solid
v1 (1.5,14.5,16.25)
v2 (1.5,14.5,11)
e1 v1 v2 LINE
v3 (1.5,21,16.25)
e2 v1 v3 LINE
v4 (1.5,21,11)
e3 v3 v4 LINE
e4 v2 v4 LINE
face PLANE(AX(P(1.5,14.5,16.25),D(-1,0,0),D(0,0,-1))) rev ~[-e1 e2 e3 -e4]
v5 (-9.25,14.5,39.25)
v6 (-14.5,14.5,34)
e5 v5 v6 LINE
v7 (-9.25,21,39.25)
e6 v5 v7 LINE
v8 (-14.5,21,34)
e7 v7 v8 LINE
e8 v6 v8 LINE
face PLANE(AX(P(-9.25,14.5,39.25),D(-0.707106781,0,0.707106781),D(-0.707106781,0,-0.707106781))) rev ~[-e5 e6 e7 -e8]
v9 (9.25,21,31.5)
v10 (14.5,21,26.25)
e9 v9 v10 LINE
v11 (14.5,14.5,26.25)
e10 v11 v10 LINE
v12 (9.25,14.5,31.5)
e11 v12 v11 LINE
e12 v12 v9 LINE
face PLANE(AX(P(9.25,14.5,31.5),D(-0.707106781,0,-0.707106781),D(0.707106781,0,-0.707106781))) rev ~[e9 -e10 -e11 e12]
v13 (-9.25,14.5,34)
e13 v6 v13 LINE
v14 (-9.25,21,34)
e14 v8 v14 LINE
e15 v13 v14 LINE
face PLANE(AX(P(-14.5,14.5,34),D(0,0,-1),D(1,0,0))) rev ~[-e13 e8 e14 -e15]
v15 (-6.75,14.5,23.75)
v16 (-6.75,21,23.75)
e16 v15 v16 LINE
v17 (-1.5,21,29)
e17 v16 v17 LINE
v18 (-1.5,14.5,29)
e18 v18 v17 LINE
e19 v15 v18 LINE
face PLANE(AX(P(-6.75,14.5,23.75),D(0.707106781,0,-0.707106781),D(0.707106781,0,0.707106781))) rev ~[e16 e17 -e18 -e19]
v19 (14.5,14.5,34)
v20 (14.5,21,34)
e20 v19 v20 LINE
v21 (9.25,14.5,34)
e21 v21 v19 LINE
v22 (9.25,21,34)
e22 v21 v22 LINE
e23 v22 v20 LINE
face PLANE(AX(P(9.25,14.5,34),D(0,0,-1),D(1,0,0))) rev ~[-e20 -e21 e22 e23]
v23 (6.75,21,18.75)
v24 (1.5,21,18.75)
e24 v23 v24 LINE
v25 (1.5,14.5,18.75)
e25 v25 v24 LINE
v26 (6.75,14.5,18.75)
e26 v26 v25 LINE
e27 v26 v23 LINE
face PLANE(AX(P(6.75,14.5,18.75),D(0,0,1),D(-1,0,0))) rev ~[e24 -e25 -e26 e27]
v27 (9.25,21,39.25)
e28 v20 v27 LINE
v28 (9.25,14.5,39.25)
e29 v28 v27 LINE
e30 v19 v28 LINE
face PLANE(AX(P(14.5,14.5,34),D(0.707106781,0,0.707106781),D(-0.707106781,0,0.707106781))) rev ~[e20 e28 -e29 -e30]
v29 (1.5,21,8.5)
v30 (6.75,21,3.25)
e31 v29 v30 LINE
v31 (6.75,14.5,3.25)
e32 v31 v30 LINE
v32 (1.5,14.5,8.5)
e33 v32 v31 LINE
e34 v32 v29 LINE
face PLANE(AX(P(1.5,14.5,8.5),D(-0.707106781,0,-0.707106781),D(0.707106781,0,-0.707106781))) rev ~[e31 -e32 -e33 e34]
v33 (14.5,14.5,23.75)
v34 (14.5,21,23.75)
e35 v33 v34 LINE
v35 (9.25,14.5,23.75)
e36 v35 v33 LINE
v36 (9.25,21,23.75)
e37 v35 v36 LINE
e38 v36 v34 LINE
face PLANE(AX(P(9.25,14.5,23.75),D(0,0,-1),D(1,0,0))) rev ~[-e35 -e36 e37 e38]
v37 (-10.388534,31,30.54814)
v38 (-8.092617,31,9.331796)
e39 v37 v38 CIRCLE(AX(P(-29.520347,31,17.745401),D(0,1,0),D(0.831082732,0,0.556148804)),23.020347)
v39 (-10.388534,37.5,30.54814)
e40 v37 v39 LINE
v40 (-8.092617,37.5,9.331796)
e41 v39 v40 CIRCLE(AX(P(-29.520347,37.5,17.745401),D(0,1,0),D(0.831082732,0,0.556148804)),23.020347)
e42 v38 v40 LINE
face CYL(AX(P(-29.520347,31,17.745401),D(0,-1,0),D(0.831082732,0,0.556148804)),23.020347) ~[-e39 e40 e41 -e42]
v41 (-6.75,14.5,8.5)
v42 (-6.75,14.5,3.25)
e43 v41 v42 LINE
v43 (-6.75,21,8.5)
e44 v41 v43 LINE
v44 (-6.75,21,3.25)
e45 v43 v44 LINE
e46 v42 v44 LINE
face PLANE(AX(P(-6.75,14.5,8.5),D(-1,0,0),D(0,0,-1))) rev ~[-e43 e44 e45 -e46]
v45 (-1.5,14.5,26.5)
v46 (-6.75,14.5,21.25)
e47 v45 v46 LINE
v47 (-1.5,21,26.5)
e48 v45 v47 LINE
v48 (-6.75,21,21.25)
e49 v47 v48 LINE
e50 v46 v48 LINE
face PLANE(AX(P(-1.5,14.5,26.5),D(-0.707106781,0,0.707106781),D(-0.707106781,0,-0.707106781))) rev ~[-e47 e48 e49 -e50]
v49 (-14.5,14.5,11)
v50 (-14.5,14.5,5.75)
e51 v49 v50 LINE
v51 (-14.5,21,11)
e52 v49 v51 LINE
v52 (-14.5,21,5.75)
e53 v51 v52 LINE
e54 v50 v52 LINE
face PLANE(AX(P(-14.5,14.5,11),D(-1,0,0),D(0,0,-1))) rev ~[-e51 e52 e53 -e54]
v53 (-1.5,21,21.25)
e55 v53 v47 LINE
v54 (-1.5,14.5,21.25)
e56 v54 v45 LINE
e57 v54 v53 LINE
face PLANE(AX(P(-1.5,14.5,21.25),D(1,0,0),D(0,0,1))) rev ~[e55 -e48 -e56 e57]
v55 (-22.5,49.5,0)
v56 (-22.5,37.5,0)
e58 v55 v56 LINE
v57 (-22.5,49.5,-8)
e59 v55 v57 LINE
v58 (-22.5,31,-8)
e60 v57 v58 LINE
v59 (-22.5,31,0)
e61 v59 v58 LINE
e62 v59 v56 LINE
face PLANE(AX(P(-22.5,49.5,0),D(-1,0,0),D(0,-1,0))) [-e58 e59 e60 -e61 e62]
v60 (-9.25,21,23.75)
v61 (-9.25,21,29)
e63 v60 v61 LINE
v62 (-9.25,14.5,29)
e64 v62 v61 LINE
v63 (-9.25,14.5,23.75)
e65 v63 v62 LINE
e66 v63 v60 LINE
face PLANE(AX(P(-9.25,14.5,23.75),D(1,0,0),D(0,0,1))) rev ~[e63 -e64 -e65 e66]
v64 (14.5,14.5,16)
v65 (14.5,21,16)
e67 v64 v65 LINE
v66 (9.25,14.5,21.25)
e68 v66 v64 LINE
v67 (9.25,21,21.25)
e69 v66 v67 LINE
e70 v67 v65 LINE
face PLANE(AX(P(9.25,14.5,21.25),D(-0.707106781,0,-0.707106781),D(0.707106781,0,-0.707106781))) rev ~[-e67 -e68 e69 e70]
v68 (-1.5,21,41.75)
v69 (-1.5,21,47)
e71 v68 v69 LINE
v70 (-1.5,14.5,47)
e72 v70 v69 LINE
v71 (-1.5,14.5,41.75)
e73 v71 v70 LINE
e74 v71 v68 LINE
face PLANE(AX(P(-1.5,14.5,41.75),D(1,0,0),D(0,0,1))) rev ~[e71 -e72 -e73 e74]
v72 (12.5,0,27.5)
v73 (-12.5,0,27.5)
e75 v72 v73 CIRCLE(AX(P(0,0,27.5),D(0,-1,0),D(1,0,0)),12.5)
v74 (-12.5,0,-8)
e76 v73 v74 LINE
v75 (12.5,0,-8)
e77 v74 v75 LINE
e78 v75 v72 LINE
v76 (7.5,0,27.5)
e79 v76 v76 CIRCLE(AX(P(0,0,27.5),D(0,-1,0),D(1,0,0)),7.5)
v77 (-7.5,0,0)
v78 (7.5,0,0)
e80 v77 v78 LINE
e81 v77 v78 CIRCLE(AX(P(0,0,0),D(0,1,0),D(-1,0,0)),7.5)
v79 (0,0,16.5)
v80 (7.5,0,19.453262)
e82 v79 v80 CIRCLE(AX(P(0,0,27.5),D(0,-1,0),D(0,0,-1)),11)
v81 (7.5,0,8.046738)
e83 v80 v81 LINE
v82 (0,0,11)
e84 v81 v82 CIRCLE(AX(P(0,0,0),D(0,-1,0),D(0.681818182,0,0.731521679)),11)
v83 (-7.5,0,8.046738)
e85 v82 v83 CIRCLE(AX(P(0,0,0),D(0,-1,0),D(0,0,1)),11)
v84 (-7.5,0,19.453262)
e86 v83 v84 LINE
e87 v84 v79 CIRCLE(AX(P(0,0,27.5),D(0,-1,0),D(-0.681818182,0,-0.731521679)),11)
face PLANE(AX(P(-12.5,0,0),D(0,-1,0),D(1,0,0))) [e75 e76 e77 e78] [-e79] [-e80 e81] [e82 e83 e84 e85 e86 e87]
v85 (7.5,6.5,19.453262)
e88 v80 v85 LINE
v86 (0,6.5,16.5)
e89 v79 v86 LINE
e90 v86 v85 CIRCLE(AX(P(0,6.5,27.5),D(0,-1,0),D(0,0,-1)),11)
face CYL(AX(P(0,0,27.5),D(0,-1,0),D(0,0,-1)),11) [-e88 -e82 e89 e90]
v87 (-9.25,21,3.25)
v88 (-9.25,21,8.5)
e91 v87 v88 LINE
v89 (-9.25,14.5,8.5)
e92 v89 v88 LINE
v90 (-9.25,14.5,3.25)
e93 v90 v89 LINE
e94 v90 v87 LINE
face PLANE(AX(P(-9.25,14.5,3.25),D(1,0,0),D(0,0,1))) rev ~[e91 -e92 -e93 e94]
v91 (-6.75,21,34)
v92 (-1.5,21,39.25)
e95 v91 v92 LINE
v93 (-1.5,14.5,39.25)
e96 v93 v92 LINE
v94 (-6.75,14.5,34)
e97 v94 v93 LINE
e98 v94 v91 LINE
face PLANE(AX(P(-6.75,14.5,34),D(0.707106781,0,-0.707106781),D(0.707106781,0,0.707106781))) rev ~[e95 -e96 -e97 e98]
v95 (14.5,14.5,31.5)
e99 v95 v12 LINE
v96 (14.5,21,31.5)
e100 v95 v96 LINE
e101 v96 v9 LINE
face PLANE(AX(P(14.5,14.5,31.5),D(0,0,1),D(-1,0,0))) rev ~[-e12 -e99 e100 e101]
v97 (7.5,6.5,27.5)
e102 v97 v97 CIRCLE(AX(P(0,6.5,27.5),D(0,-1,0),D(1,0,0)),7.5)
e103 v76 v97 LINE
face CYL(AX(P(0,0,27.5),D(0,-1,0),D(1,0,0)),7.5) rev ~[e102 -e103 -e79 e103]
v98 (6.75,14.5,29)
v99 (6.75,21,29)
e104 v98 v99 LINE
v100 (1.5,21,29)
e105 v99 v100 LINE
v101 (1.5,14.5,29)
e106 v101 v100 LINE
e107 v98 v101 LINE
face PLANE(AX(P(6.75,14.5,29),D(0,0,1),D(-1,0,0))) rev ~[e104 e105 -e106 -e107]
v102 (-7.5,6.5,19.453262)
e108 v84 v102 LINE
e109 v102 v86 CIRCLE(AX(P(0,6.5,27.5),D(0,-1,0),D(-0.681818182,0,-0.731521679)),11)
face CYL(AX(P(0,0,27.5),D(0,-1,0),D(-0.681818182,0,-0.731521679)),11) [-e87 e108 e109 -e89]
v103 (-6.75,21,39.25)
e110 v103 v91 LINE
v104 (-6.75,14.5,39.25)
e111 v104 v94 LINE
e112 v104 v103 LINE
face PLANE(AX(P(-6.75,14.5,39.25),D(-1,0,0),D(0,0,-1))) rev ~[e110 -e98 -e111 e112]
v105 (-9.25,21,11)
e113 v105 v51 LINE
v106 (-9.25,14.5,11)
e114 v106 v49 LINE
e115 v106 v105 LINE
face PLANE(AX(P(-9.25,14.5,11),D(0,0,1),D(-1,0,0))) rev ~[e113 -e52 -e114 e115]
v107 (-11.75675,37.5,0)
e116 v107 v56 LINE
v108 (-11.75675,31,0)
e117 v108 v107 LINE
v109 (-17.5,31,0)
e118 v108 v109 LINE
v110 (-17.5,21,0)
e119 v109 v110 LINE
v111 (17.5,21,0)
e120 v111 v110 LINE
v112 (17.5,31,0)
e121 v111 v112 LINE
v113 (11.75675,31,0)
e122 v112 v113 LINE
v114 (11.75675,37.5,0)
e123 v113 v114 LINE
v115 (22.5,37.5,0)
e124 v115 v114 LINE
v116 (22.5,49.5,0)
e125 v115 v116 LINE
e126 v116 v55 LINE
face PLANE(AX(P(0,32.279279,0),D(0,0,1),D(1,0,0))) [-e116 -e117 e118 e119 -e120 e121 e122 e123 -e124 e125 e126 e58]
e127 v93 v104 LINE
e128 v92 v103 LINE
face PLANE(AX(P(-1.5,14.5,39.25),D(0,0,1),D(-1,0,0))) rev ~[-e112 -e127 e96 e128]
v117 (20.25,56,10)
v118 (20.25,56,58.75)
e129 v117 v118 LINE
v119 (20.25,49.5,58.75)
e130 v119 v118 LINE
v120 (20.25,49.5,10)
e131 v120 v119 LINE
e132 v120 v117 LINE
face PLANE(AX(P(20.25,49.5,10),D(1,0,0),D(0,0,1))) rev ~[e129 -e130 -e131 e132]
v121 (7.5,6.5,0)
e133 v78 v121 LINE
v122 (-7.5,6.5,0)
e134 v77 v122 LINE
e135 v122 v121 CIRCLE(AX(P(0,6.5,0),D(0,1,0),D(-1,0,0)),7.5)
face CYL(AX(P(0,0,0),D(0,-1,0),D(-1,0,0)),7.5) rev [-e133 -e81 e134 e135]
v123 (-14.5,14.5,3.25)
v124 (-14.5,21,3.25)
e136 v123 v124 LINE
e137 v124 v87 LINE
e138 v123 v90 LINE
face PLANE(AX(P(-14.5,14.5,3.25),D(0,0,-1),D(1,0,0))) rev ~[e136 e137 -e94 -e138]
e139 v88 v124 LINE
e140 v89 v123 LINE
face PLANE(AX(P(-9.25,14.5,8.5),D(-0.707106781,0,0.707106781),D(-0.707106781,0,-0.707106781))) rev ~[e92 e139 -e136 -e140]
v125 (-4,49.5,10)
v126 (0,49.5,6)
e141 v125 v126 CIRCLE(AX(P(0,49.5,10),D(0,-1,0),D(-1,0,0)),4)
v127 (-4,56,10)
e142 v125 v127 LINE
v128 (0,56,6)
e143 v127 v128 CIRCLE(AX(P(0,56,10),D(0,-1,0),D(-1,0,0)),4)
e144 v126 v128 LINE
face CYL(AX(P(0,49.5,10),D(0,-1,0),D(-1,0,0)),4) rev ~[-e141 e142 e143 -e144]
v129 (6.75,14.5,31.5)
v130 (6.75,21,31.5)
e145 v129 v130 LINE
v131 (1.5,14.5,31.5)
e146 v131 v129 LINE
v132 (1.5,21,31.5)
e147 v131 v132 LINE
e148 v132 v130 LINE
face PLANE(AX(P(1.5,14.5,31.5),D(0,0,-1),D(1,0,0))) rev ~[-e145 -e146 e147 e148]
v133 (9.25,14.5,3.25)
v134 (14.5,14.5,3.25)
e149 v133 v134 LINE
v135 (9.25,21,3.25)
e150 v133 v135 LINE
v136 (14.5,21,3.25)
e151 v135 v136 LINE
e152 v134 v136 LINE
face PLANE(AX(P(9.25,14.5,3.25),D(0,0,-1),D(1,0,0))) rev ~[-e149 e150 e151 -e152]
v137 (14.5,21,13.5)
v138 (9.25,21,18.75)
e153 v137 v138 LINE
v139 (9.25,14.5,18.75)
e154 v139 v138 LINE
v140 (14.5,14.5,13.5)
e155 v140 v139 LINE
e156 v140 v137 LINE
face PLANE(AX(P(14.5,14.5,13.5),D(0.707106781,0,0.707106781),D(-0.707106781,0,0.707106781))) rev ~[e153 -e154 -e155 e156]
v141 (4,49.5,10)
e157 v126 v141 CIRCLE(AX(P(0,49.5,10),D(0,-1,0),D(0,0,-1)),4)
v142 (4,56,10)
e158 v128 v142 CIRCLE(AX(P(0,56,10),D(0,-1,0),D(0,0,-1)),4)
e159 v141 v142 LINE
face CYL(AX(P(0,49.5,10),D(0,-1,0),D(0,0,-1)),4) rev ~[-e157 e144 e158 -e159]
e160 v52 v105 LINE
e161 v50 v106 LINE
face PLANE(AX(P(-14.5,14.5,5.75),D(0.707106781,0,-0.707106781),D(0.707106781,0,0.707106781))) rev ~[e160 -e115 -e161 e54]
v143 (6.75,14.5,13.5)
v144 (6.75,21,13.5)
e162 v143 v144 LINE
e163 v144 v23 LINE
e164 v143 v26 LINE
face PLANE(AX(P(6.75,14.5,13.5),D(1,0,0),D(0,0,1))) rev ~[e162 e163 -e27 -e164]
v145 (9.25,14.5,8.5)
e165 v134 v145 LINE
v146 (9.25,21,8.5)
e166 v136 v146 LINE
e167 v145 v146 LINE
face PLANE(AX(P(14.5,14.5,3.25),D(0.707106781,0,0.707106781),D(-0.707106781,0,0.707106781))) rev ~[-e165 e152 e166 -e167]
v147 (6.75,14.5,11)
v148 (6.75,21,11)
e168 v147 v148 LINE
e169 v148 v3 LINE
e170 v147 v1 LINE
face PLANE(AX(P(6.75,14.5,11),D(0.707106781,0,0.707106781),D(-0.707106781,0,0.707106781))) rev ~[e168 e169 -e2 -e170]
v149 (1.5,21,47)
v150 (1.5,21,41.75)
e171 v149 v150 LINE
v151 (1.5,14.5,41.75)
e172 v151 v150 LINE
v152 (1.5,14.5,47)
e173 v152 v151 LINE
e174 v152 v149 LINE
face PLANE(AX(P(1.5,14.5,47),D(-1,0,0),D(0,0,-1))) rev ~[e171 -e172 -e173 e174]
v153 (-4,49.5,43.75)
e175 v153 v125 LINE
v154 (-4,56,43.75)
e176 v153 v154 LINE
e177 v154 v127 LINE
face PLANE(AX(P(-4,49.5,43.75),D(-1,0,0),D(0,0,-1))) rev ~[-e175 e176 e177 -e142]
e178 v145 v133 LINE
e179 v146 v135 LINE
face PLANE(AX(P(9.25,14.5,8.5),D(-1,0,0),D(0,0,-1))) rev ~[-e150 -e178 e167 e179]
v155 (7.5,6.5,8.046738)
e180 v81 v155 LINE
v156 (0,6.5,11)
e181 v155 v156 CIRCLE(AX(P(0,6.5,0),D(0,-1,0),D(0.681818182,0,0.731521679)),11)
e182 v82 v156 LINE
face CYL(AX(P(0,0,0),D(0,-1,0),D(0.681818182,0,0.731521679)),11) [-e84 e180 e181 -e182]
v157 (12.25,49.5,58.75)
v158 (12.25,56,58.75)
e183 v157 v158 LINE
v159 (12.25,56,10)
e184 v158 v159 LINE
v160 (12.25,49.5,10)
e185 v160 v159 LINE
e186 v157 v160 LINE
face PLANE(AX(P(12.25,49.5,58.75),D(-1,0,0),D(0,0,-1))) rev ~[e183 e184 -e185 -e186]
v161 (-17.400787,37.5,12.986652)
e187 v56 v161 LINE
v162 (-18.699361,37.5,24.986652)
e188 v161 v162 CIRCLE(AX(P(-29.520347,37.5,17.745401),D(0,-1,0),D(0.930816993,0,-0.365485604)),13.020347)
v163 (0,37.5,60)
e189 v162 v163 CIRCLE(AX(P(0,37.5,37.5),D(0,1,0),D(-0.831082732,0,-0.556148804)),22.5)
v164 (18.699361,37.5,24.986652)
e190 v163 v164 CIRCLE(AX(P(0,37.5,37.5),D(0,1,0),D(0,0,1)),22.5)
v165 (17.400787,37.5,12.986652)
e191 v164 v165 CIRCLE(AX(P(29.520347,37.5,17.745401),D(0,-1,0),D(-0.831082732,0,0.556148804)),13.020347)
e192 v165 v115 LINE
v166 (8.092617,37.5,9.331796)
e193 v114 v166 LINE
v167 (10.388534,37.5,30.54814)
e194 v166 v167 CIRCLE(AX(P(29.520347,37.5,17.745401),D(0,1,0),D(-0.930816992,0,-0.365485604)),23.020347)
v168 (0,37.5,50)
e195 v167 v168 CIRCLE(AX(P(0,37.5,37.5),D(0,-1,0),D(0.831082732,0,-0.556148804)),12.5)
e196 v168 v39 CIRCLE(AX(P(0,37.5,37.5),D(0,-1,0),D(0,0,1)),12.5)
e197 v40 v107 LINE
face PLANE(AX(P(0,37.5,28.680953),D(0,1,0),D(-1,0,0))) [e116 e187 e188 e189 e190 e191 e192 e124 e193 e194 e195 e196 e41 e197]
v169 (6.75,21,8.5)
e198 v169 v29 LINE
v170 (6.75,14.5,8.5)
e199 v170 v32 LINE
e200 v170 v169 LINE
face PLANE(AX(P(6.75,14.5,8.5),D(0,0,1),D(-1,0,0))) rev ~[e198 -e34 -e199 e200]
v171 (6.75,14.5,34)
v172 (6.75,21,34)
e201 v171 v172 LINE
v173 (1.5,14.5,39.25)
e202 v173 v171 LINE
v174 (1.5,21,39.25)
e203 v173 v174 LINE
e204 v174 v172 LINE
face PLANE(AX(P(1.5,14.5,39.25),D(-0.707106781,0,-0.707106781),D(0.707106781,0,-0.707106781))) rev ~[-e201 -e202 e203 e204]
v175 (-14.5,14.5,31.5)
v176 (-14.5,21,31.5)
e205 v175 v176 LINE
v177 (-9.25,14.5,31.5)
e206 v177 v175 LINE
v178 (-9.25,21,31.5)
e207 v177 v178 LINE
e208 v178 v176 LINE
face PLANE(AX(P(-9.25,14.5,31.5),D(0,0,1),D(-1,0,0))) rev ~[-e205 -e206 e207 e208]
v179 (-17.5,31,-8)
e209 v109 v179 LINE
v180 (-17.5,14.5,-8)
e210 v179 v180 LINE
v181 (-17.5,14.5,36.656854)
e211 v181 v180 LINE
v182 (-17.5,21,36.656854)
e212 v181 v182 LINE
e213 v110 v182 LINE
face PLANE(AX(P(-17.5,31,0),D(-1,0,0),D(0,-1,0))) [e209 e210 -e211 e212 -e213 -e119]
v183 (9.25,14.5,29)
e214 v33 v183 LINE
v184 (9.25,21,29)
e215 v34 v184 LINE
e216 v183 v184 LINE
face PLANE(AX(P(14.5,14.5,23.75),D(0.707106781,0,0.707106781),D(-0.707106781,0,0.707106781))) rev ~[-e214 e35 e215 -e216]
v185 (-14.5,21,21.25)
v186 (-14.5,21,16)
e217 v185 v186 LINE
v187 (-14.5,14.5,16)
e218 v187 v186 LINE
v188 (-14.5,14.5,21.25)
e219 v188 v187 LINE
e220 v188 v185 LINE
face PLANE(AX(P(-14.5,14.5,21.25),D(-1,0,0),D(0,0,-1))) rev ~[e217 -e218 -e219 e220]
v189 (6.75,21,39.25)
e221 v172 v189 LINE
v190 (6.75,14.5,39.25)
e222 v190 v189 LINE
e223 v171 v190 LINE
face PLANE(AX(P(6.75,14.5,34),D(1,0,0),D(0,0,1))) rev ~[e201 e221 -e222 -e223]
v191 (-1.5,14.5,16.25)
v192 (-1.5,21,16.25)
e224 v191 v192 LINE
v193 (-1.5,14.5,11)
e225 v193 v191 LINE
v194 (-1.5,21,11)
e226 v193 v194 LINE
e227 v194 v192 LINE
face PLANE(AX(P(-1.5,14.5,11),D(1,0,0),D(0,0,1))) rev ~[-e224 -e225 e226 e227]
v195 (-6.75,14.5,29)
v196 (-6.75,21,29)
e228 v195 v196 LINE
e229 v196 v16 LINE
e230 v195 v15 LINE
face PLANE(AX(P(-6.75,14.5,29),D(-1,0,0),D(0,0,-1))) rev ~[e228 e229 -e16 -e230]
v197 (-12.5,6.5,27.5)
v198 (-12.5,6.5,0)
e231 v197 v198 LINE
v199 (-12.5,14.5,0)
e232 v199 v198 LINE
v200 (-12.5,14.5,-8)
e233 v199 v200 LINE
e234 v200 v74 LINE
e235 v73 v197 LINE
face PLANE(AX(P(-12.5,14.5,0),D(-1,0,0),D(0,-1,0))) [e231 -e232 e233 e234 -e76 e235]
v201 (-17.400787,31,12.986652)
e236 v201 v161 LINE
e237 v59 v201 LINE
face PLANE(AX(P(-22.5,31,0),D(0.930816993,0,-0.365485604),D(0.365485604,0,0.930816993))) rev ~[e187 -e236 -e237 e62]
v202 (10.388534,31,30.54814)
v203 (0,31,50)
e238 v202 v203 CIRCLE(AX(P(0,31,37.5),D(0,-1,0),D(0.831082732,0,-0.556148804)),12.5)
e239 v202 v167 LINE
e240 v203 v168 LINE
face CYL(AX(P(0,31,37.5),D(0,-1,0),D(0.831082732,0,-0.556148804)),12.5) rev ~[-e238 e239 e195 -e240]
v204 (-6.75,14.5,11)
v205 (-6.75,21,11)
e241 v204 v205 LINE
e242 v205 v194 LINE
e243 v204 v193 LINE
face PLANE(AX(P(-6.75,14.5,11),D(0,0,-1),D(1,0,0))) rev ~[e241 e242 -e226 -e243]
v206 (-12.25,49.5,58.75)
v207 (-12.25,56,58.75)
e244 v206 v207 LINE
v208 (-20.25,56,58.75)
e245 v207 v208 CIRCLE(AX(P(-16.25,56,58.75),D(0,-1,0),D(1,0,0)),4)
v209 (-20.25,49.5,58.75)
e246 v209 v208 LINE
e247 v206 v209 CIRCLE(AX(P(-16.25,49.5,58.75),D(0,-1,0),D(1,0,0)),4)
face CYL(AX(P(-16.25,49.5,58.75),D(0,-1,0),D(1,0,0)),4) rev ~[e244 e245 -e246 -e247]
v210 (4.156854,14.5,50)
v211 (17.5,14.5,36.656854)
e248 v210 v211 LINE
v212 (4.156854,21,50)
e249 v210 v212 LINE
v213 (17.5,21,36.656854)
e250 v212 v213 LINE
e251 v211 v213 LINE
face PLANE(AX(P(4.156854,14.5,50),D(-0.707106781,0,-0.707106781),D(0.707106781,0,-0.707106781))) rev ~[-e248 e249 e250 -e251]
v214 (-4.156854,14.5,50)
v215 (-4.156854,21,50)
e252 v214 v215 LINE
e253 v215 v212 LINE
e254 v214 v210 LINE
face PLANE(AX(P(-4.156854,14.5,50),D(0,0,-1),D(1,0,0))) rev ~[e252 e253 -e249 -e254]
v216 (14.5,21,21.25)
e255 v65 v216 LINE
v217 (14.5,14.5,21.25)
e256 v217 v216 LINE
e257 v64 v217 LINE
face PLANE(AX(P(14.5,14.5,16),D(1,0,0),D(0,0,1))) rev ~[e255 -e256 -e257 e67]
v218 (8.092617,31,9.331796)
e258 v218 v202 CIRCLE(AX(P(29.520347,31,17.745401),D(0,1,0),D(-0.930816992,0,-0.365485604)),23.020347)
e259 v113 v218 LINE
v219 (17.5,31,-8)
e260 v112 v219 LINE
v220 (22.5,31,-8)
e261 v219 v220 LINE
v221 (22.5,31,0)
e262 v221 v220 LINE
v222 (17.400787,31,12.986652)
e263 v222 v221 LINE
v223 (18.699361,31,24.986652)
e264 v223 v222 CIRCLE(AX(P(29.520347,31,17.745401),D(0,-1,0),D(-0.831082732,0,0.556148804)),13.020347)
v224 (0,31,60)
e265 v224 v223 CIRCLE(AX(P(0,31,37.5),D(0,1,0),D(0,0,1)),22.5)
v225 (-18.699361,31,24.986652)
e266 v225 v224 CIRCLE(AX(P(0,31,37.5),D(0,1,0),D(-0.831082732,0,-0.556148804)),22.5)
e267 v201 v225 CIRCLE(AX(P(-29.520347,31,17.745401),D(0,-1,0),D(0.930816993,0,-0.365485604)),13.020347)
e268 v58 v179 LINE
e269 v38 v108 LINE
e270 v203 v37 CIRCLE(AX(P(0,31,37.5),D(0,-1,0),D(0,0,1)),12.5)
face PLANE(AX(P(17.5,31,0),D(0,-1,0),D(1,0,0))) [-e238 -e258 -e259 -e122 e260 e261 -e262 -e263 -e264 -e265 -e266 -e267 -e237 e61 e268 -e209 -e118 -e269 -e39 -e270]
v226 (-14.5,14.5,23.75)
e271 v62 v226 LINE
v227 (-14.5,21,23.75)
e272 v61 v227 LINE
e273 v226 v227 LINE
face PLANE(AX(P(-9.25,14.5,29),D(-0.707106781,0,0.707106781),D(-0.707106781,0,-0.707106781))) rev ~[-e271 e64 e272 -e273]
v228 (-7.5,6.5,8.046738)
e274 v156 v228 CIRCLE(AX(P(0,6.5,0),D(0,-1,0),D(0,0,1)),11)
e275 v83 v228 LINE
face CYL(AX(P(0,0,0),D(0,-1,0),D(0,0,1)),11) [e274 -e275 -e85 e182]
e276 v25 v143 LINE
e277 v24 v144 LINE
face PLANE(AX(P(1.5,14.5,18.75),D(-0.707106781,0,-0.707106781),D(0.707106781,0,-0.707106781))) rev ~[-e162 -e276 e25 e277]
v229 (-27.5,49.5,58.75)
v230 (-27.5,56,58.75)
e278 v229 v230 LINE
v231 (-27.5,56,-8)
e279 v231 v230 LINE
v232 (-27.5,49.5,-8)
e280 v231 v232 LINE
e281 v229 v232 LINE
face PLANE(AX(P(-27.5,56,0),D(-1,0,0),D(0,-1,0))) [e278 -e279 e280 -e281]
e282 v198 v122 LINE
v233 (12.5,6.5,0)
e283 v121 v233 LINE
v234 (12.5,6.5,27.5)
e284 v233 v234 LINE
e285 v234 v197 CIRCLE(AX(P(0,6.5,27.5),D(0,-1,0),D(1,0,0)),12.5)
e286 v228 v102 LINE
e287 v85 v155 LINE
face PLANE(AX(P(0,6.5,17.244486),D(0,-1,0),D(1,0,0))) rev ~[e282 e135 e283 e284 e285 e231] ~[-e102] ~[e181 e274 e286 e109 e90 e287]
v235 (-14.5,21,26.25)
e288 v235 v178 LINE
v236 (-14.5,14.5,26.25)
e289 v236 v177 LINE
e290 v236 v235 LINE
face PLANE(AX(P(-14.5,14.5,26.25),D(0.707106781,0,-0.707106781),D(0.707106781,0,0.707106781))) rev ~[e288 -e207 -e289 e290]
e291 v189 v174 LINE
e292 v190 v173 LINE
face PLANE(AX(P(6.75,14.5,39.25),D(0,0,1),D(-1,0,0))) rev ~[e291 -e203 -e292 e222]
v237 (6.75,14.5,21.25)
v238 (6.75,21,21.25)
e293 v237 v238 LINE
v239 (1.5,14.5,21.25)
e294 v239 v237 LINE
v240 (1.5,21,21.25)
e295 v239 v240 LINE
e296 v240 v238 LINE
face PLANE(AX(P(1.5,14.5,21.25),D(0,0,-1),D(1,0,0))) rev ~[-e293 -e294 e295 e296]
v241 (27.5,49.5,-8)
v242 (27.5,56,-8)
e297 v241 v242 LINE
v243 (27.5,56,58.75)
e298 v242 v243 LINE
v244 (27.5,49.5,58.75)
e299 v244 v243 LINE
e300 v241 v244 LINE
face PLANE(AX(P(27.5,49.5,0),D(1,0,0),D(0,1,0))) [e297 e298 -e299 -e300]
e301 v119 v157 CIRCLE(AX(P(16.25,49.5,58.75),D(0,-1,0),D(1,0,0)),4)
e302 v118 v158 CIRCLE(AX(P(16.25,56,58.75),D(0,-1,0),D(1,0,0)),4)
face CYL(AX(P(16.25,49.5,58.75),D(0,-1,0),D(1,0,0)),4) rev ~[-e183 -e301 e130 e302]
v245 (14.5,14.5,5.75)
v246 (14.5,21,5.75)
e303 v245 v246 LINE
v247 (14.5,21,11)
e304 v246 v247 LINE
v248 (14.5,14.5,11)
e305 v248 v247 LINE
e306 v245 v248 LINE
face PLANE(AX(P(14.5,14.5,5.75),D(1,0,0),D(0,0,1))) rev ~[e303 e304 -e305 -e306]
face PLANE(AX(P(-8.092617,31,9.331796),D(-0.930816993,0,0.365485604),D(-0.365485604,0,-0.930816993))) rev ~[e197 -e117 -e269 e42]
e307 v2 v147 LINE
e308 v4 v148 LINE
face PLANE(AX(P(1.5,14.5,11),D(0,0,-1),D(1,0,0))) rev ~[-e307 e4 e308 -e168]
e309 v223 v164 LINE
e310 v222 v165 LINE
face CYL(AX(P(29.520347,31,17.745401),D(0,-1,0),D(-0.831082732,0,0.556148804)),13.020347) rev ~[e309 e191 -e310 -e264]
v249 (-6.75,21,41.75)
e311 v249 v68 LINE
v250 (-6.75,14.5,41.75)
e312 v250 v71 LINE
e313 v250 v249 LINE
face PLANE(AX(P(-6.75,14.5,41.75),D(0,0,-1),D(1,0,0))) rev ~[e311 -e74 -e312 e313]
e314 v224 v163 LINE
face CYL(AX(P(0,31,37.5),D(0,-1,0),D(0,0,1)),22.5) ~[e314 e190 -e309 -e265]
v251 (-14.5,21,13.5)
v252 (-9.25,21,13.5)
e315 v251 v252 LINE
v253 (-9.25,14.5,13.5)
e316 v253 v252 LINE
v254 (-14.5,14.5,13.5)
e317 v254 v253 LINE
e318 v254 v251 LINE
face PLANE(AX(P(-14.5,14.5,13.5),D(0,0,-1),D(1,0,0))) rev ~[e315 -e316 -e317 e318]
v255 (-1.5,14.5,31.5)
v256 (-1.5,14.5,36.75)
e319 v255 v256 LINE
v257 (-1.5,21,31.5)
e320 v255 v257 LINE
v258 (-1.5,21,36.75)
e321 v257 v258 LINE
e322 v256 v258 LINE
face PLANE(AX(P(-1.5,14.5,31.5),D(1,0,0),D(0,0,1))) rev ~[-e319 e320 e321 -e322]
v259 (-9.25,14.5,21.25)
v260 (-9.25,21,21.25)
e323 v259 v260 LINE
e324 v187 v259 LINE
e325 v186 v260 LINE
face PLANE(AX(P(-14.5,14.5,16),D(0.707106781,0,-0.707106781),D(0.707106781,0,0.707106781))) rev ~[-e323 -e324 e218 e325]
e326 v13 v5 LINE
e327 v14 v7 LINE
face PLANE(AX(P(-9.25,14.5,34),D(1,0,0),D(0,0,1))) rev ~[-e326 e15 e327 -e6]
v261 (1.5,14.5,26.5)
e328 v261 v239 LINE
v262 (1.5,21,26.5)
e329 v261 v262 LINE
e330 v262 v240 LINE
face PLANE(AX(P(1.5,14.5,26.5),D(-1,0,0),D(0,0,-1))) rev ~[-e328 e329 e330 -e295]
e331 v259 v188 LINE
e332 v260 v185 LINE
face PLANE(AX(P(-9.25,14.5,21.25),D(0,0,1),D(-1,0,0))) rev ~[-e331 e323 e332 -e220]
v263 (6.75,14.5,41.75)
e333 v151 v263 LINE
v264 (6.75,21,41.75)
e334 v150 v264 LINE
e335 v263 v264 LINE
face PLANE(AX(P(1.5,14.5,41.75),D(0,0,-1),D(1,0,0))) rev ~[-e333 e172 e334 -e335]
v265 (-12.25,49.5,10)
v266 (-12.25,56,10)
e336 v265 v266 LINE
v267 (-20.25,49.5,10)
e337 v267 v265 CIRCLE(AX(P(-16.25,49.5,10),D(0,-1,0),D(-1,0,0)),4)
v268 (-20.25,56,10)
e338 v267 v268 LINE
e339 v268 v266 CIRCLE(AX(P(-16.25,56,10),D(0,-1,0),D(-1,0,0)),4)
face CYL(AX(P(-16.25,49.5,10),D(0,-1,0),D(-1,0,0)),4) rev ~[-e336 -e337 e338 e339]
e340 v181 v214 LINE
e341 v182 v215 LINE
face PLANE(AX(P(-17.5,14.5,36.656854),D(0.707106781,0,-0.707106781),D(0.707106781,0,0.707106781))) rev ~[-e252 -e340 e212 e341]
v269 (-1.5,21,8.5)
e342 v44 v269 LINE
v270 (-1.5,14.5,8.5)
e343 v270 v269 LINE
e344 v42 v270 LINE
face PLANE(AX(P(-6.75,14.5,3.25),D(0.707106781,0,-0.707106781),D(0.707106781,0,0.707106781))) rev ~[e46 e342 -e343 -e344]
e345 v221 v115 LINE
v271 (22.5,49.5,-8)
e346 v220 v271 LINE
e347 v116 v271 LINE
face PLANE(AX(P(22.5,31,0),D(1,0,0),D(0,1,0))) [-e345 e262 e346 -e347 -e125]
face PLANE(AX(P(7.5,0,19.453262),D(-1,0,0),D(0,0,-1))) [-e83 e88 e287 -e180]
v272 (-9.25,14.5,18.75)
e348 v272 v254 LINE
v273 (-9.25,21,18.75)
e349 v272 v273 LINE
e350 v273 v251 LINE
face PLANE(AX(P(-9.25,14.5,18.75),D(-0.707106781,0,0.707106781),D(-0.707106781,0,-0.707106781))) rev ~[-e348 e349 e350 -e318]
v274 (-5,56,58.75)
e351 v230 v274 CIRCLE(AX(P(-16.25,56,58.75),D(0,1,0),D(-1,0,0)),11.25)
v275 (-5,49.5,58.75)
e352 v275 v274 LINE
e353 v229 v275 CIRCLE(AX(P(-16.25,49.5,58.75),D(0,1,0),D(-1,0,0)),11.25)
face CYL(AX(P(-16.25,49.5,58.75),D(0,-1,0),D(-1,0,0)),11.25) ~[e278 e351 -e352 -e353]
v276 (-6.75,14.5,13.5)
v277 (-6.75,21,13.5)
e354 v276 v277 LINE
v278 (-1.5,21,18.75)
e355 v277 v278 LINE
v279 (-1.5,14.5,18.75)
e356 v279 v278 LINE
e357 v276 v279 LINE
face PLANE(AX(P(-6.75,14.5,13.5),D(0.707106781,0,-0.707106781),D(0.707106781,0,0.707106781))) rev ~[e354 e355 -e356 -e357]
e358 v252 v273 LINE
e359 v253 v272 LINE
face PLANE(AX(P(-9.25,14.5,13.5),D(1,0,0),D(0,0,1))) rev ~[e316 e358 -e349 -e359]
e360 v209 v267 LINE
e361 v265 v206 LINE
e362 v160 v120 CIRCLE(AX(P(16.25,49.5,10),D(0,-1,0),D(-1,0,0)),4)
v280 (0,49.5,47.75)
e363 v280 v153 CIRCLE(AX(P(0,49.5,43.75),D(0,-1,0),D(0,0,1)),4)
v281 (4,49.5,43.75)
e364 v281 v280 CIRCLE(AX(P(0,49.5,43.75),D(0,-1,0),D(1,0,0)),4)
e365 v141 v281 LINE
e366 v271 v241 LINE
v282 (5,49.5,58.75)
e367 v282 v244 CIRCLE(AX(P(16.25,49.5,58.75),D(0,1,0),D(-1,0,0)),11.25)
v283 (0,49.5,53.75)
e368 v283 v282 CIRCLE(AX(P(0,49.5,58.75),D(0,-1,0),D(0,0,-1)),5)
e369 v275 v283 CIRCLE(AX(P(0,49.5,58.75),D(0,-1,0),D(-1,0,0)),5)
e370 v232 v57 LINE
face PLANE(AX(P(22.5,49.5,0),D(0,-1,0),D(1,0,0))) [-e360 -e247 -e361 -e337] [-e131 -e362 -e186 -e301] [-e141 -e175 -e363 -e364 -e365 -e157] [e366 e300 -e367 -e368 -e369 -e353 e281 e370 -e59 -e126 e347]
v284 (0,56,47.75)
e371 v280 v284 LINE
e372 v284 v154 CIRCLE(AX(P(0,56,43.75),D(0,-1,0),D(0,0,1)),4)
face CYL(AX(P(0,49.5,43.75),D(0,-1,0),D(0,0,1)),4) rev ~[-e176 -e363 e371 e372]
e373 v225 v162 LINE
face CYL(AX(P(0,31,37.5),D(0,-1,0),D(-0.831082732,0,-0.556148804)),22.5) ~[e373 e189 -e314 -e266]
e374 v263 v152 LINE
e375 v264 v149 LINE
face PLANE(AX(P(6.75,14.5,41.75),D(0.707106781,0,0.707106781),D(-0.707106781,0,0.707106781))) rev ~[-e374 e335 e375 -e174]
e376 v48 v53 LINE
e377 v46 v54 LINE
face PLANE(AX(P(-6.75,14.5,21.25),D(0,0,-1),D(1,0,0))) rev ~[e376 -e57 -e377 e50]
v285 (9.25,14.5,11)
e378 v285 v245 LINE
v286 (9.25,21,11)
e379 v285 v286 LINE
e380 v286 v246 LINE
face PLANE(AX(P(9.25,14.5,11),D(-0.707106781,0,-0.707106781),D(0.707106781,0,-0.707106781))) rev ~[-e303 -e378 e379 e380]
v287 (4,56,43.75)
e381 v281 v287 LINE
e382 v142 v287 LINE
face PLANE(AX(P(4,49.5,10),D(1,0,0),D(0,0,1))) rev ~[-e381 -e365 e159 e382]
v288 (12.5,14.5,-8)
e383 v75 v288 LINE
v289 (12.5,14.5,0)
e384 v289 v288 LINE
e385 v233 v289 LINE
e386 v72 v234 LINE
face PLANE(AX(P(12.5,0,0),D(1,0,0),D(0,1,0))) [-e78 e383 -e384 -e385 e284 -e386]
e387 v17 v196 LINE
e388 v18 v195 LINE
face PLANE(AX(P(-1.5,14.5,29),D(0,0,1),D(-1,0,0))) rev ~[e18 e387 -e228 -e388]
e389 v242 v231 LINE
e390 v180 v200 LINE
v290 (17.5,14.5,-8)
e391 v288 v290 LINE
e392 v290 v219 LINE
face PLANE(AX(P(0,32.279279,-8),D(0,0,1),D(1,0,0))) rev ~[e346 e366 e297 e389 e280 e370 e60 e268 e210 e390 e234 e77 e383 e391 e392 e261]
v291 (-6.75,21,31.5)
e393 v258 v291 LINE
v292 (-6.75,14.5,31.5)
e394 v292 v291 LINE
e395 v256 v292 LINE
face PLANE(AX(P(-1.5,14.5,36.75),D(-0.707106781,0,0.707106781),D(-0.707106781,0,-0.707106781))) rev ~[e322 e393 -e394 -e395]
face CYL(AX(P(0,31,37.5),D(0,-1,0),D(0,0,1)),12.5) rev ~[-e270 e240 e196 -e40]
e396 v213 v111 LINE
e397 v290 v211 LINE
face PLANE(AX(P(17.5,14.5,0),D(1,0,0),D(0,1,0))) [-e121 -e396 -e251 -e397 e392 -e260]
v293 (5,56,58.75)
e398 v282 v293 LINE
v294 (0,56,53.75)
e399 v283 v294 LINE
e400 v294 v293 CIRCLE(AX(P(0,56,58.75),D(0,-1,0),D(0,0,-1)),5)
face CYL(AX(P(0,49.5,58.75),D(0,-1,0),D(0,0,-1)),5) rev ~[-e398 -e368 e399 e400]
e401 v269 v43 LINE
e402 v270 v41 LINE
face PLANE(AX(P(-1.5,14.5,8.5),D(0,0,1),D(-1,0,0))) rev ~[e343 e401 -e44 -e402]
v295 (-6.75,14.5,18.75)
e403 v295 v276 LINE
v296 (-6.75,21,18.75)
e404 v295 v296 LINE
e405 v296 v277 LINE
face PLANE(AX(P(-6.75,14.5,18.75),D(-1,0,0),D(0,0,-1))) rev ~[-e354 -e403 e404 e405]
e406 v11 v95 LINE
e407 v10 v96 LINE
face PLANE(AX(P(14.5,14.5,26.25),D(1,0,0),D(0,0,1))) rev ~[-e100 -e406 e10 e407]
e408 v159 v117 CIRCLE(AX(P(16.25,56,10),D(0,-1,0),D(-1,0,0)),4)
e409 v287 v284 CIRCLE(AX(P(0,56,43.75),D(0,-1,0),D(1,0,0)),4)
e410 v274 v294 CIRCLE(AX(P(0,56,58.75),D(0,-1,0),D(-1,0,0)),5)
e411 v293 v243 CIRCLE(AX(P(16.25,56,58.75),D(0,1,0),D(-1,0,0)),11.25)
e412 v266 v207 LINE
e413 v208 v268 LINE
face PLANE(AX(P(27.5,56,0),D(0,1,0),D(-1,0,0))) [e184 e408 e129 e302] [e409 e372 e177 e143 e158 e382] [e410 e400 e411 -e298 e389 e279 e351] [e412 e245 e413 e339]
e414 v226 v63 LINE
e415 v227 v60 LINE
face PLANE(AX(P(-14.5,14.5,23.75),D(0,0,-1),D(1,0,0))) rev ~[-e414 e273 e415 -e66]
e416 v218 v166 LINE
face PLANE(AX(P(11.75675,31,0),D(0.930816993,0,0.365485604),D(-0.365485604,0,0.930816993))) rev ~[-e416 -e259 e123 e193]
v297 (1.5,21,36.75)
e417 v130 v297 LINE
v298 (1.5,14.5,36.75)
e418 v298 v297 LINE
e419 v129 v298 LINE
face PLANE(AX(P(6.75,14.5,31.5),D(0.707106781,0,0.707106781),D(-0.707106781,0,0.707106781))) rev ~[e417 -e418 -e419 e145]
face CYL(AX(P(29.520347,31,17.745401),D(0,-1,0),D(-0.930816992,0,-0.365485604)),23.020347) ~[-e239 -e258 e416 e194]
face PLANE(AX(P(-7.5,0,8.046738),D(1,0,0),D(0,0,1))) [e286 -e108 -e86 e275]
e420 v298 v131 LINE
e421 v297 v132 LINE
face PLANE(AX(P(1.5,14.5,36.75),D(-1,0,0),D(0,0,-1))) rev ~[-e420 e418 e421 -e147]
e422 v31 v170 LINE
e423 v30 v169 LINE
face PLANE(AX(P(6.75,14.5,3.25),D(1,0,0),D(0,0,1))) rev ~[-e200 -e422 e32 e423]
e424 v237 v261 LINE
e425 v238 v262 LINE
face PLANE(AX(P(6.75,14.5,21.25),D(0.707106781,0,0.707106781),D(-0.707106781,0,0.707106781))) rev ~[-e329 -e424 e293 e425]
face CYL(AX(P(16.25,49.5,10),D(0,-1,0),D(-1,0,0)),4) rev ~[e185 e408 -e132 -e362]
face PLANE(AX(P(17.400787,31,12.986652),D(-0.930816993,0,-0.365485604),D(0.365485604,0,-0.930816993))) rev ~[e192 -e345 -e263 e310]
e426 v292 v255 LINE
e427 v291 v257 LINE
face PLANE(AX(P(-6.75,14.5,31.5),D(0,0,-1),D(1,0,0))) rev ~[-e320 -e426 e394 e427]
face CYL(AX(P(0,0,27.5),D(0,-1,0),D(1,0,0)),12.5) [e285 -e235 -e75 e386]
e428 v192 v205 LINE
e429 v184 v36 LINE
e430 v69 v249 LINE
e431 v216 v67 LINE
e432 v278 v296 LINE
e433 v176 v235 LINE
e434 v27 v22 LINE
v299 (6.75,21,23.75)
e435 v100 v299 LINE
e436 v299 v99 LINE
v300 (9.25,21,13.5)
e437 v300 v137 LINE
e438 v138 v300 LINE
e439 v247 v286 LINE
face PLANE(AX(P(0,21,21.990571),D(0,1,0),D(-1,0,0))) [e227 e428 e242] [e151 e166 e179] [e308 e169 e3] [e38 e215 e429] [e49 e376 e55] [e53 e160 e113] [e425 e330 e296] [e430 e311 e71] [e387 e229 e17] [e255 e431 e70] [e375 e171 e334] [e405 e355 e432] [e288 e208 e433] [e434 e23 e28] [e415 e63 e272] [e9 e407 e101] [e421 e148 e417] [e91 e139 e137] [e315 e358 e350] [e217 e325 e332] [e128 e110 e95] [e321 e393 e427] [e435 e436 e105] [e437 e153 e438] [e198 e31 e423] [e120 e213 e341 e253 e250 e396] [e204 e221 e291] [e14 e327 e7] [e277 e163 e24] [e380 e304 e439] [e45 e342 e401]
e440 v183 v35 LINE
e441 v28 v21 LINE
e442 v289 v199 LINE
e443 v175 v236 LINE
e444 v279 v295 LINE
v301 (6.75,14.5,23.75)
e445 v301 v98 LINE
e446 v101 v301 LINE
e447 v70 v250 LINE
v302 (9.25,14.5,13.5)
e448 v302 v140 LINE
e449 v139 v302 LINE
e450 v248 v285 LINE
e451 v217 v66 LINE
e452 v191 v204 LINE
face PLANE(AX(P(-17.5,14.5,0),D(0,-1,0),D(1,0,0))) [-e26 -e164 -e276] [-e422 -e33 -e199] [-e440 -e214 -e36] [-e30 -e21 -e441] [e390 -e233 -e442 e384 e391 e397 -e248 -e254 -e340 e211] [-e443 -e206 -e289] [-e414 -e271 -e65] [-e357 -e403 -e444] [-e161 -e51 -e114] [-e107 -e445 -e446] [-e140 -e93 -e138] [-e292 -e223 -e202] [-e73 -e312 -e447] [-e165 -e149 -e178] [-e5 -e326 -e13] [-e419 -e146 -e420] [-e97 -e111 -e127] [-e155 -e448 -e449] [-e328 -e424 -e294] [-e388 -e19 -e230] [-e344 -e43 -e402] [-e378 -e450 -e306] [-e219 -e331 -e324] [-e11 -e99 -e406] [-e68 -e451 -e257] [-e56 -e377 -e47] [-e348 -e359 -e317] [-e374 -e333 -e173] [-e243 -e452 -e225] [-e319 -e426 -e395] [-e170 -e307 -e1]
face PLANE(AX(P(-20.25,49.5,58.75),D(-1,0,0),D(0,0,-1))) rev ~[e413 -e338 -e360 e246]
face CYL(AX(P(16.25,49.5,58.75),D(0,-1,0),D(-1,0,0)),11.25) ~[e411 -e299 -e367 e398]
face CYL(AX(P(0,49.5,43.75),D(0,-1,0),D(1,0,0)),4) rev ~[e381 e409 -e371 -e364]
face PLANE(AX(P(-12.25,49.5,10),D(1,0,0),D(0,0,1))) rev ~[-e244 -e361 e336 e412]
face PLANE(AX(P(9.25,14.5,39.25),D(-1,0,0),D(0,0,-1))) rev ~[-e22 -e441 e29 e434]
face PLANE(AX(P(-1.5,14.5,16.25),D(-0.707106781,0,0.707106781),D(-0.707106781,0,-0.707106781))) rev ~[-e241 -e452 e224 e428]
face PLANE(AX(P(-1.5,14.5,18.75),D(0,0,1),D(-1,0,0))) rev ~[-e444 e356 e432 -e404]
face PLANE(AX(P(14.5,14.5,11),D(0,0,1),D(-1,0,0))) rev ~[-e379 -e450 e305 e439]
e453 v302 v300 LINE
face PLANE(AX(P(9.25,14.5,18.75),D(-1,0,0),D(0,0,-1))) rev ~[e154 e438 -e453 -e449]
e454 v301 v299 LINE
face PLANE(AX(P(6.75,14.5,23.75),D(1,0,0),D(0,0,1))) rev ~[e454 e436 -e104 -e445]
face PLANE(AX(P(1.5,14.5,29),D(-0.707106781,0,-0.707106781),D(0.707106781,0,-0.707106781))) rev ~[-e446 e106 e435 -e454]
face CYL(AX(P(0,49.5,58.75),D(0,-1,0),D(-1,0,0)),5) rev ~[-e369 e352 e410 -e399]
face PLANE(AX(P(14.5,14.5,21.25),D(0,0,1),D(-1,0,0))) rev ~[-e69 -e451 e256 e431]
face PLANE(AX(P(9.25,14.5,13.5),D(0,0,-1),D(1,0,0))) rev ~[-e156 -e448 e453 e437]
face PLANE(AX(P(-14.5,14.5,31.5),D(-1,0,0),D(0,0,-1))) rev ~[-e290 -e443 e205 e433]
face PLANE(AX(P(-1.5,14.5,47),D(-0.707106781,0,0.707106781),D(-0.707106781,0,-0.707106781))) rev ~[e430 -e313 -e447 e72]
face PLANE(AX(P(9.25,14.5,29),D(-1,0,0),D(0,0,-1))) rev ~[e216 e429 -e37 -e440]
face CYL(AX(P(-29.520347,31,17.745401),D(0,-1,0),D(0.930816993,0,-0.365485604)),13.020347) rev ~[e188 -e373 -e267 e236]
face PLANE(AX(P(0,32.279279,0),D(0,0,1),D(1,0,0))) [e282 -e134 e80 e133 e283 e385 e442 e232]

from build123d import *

# Parameters (mm, degrees)
F0_R      = 7.5
F1_DEPTH  = 6.5
F4_DEPTH  = 6.5
F7_DEPTH  = 6.5
F10_DEPTH = 6.5
F12_DEPTH = 8


with BuildPart() as f1:
    # F0 (on Front) → F1 (new body)
    with BuildSketch(Plane.XZ):
        with BuildLine():
            Line((-12.5, 27.5), (-12.5, 0))
            Line((-12.5, 0), (-7.5, 0))
            ThreePointArc((-7.5, 0), (0, 7.5), (7.5, 0))
            Line((7.5, 0), (12.5, 0))
            Line((12.5, 0), (12.5, 27.5))
            ThreePointArc((12.5, 27.5), (0, 40), (-12.5, 27.5))
        make_face()
        with BuildLine():
            Line((-7.5, 13.75), (-7.5, 19.4532615303))
            ThreePointArc((-7.5, 19.4532615303), (-4.0302528973, 17.2649102797), (0, 16.5))
            ThreePointArc((0, 16.5), (4.0302528973, 17.2649102797), (7.5, 19.4532615303))
            Line((7.5, 19.4532615303), (7.5, 13.75))
            Line((7.5, 13.75), (7.5, 8.0467384697))
            ThreePointArc((7.5, 8.0467384697), (4.0302528973, 10.2350897203), (0, 11))
            ThreePointArc((0, 11), (-4.0302528973, 10.2350897203), (-7.5, 8.0467384697))
            Line((-7.5, 8.0467384697), (-7.5, 13.75))
        make_face(mode=Mode.SUBTRACT)
        with Locations((0, 27.5)):
            Circle(F0_R, mode=Mode.SUBTRACT)
    extrude(amount=-F1_DEPTH)



with BuildPart() as f4:
    # F3 (on offset) → F4 (new body)
    with BuildSketch(Plane(origin=(0, 14.5, 0), x_dir=(-1, 0, 0), z_dir=(0, 1, 0))):
        Polygon((-17.5, 0), (17.5, 0), (17.5, 36.6568542495), (4.1568542495, 50), (0, 50), (-4.1568542495, 50), (-17.5, 36.6568542495), align=None)
        Polygon((-14.5, 3.25), (-9.25, 8.5), (-9.25, 3.25), align=None, mode=Mode.SUBTRACT)
        Polygon((-14.5, 11), (-9.25, 11), (-14.5, 5.75), align=None, mode=Mode.SUBTRACT)
        Polygon((-6.75, 3.25), (-6.75, 8.5), (-1.5, 8.5), align=None, mode=Mode.SUBTRACT)
        Polygon((-14.5, 13.5), (-9.25, 18.75), (-9.25, 13.5), align=None, mode=Mode.SUBTRACT)
        Polygon((-14.5, 21.25), (-9.25, 21.25), (-14.5, 16), align=None, mode=Mode.SUBTRACT)
        Polygon((-6.75, 11), (-1.5, 16.25), (-1.5, 11), align=None, mode=Mode.SUBTRACT)
        Polygon((-6.75, 13.5), (-6.75, 18.75), (-1.5, 18.75), align=None, mode=Mode.SUBTRACT)
        Polygon((-6.75, 21.25), (-1.5, 26.5), (-1.5, 21.25), align=None, mode=Mode.SUBTRACT)
        Polygon((6.75, 8.5), (6.75, 3.25), (1.5, 8.5), align=None, mode=Mode.SUBTRACT)
        Polygon((9.25, 8.5), (14.5, 3.25), (9.25, 3.25), align=None, mode=Mode.SUBTRACT)
        Polygon((14.5, 5.75), (9.25, 11), (14.5, 11), align=None, mode=Mode.SUBTRACT)
        Polygon((1.5, 11), (1.5, 16.25), (6.75, 11), align=None, mode=Mode.SUBTRACT)
        Polygon((1.5, 18.75), (6.75, 18.75), (6.75, 13.5), align=None, mode=Mode.SUBTRACT)
        Polygon((1.5, 21.25), (1.5, 26.5), (6.75, 21.25), align=None, mode=Mode.SUBTRACT)
        Polygon((9.25, 13.5), (9.25, 18.75), (14.5, 13.5), align=None, mode=Mode.SUBTRACT)
        Polygon((14.5, 16), (9.25, 21.25), (14.5, 21.25), align=None, mode=Mode.SUBTRACT)
        Polygon((-14.5, 23.75), (-9.25, 29), (-9.25, 23.75), align=None, mode=Mode.SUBTRACT)
        Polygon((-14.5, 31.5), (-9.25, 31.5), (-14.5, 26.25), align=None, mode=Mode.SUBTRACT)
        Polygon((-14.5, 34), (-9.25, 39.25), (-9.25, 34), align=None, mode=Mode.SUBTRACT)
        Polygon((-6.75, 23.75), (-6.75, 29), (-1.5, 29), align=None, mode=Mode.SUBTRACT)
        Polygon((-6.75, 31.5), (-1.5, 36.75), (-1.5, 31.5), align=None, mode=Mode.SUBTRACT)
        Polygon((-6.75, 34), (-6.75, 39.25), (-1.5, 39.25), align=None, mode=Mode.SUBTRACT)
        Polygon((-1.5, 41.75), (-6.75, 41.75), (-1.5, 47), align=None, mode=Mode.SUBTRACT)
        Polygon((1.5, 29), (6.75, 29), (6.75, 23.75), align=None, mode=Mode.SUBTRACT)
        Polygon((1.5, 31.5), (1.5, 36.75), (6.75, 31.5), align=None, mode=Mode.SUBTRACT)
        Polygon((1.5, 39.25), (6.75, 39.25), (6.75, 34), align=None, mode=Mode.SUBTRACT)
        Polygon((9.25, 23.75), (9.25, 29), (14.5, 23.75), align=None, mode=Mode.SUBTRACT)
        Polygon((14.5, 26.25), (9.25, 31.5), (14.5, 31.5), align=None, mode=Mode.SUBTRACT)
        Polygon((9.25, 34), (9.25, 39.25), (14.5, 34), align=None, mode=Mode.SUBTRACT)
        Polygon((1.5, 41.75), (1.5, 47), (6.75, 41.75), align=None, mode=Mode.SUBTRACT)
    extrude(amount=F4_DEPTH)


with BuildPart() as f7:
    # F6 (on offset) → F7 (new body)
    with BuildSketch(Plane(origin=(0, 31, 0), x_dir=(-1, 0, 0), z_dir=(0, 1, 0))):
        with BuildLine():
            ThreePointArc((18.6993614774, 24.9866519133), (19.8469182992, 48.099520462), (0, 60))
            ThreePointArc((0, 60), (-19.8469182992, 48.099520462), (-18.6993614774, 24.9866519133))
            ThreePointArc((-18.6993614774, 24.9866519133), (-16.5755735728, 19.1462143394), (-17.4007867797, 12.9866519133))
            Line((-17.4007867797, 12.9866519133), (-22.5, 0))
            Line((-22.5, 0), (-11.756749629, 0))
            Line((-11.756749629, 0), (-8.0926168547, 9.3317958769))
            ThreePointArc((-8.0926168547, 9.3317958769), (-6.6336162435, 20.2220788589), (-10.3885341541, 30.5481399518))
            ThreePointArc((-10.3885341541, 30.5481399518), (-11.0260657218, 43.3886224789), (0, 50))
            ThreePointArc((0, 50), (11.0260657218, 43.3886224789), (10.3885341541, 30.5481399518))
            ThreePointArc((10.3885341541, 30.5481399518), (6.6336162435, 20.2220788589), (8.0926168547, 9.3317958769))
            Line((8.0926168547, 9.3317958769), (11.756749629, 0))
            Line((11.756749629, 0), (22.5, 0))
            Line((22.5, 0), (17.4007867797, 12.9866519133))
            ThreePointArc((17.4007867797, 12.9866519133), (16.5755735728, 19.1462143394), (18.6993614774, 24.9866519133))
        make_face()
    extrude(amount=F7_DEPTH)


with BuildPart() as f10:
    # F9 (on offset) → F10 (new body)
    with BuildSketch(Plane(origin=(0, 49.5, 0), x_dir=(-1, 0, 0), z_dir=(0, 1, 0))):
        with BuildLine():
            Line((-27.5, 0), (27.5, 0))
            Line((27.5, 0), (27.5, 58.75))
            ThreePointArc((27.5, 58.75), (16.25, 70), (5, 58.75))
            ThreePointArc((5, 58.75), (3.5355339059, 55.2144660941), (0, 53.75))
            ThreePointArc((0, 53.75), (-3.5355339059, 55.2144660941), (-5, 58.75))
            ThreePointArc((-5, 58.75), (-16.25, 70), (-27.5, 58.75))
            Line((-27.5, 58.75), (-27.5, 0))
        make_face()
        with BuildLine():
            ThreePointArc((-20.25, 58.75), (-16.25, 62.75), (-12.25, 58.75))
            Line((-12.25, 58.75), (-12.25, 10))
            ThreePointArc((-12.25, 10), (-16.25, 6), (-20.25, 10))
            Line((-20.25, 10), (-20.25, 58.75))
        make_face(mode=Mode.SUBTRACT)
        with BuildLine():
            ThreePointArc((-4, 43.75), (-2.8284271247, 46.5784271247), (0, 47.75))
            ThreePointArc((0, 47.75), (2.8284271247, 46.5784271247), (4, 43.75))
            Line((4, 43.75), (4, 10))
            ThreePointArc((4, 10), (2.8284271247, 7.1715728753), (0, 6))
            ThreePointArc((0, 6), (-2.8284271247, 7.1715728753), (-4, 10))
            Line((-4, 10), (-4, 43.75))
        make_face(mode=Mode.SUBTRACT)
        with BuildLine():
            ThreePointArc((12.25, 58.75), (16.25, 62.75), (20.25, 58.75))
            Line((20.25, 58.75), (20.25, 10))
            ThreePointArc((20.25, 10), (16.25, 6), (12.25, 10))
            Line((12.25, 10), (12.25, 58.75))
        make_face(mode=Mode.SUBTRACT)
    extrude(amount=F10_DEPTH)


with BuildPart() as f1_1:
    add(f1.part)

    add(f4.part)  # F12 merges F4

    add(f7.part)  # F12 merges F7

    add(f10.part)  # F12 merges F10
    # F11 (on Top) → F12 (join)
    with BuildSketch(Plane.XY):
        Polygon((-12.5, 0), (0, 0), (12.5, 0), (12.5, 6.5), (12.5, 14.5), (17.5, 14.5), (17.5, 21), (17.5, 31), (22.5, 31), (22.5, 37.5), (22.5, 49.5), (27.5, 49.5), (27.5, 56), (0, 56), (-27.5, 56), (-27.5, 49.5), (-22.5, 49.5), (-22.5, 37.5), (-22.5, 31), (-17.5, 31), (-17.5, 21), (-17.5, 14.5), (-12.5, 14.5), (-12.5, 6.5), align=None)
    extrude(amount=-F12_DEPTH)


solid = f1_1.part
